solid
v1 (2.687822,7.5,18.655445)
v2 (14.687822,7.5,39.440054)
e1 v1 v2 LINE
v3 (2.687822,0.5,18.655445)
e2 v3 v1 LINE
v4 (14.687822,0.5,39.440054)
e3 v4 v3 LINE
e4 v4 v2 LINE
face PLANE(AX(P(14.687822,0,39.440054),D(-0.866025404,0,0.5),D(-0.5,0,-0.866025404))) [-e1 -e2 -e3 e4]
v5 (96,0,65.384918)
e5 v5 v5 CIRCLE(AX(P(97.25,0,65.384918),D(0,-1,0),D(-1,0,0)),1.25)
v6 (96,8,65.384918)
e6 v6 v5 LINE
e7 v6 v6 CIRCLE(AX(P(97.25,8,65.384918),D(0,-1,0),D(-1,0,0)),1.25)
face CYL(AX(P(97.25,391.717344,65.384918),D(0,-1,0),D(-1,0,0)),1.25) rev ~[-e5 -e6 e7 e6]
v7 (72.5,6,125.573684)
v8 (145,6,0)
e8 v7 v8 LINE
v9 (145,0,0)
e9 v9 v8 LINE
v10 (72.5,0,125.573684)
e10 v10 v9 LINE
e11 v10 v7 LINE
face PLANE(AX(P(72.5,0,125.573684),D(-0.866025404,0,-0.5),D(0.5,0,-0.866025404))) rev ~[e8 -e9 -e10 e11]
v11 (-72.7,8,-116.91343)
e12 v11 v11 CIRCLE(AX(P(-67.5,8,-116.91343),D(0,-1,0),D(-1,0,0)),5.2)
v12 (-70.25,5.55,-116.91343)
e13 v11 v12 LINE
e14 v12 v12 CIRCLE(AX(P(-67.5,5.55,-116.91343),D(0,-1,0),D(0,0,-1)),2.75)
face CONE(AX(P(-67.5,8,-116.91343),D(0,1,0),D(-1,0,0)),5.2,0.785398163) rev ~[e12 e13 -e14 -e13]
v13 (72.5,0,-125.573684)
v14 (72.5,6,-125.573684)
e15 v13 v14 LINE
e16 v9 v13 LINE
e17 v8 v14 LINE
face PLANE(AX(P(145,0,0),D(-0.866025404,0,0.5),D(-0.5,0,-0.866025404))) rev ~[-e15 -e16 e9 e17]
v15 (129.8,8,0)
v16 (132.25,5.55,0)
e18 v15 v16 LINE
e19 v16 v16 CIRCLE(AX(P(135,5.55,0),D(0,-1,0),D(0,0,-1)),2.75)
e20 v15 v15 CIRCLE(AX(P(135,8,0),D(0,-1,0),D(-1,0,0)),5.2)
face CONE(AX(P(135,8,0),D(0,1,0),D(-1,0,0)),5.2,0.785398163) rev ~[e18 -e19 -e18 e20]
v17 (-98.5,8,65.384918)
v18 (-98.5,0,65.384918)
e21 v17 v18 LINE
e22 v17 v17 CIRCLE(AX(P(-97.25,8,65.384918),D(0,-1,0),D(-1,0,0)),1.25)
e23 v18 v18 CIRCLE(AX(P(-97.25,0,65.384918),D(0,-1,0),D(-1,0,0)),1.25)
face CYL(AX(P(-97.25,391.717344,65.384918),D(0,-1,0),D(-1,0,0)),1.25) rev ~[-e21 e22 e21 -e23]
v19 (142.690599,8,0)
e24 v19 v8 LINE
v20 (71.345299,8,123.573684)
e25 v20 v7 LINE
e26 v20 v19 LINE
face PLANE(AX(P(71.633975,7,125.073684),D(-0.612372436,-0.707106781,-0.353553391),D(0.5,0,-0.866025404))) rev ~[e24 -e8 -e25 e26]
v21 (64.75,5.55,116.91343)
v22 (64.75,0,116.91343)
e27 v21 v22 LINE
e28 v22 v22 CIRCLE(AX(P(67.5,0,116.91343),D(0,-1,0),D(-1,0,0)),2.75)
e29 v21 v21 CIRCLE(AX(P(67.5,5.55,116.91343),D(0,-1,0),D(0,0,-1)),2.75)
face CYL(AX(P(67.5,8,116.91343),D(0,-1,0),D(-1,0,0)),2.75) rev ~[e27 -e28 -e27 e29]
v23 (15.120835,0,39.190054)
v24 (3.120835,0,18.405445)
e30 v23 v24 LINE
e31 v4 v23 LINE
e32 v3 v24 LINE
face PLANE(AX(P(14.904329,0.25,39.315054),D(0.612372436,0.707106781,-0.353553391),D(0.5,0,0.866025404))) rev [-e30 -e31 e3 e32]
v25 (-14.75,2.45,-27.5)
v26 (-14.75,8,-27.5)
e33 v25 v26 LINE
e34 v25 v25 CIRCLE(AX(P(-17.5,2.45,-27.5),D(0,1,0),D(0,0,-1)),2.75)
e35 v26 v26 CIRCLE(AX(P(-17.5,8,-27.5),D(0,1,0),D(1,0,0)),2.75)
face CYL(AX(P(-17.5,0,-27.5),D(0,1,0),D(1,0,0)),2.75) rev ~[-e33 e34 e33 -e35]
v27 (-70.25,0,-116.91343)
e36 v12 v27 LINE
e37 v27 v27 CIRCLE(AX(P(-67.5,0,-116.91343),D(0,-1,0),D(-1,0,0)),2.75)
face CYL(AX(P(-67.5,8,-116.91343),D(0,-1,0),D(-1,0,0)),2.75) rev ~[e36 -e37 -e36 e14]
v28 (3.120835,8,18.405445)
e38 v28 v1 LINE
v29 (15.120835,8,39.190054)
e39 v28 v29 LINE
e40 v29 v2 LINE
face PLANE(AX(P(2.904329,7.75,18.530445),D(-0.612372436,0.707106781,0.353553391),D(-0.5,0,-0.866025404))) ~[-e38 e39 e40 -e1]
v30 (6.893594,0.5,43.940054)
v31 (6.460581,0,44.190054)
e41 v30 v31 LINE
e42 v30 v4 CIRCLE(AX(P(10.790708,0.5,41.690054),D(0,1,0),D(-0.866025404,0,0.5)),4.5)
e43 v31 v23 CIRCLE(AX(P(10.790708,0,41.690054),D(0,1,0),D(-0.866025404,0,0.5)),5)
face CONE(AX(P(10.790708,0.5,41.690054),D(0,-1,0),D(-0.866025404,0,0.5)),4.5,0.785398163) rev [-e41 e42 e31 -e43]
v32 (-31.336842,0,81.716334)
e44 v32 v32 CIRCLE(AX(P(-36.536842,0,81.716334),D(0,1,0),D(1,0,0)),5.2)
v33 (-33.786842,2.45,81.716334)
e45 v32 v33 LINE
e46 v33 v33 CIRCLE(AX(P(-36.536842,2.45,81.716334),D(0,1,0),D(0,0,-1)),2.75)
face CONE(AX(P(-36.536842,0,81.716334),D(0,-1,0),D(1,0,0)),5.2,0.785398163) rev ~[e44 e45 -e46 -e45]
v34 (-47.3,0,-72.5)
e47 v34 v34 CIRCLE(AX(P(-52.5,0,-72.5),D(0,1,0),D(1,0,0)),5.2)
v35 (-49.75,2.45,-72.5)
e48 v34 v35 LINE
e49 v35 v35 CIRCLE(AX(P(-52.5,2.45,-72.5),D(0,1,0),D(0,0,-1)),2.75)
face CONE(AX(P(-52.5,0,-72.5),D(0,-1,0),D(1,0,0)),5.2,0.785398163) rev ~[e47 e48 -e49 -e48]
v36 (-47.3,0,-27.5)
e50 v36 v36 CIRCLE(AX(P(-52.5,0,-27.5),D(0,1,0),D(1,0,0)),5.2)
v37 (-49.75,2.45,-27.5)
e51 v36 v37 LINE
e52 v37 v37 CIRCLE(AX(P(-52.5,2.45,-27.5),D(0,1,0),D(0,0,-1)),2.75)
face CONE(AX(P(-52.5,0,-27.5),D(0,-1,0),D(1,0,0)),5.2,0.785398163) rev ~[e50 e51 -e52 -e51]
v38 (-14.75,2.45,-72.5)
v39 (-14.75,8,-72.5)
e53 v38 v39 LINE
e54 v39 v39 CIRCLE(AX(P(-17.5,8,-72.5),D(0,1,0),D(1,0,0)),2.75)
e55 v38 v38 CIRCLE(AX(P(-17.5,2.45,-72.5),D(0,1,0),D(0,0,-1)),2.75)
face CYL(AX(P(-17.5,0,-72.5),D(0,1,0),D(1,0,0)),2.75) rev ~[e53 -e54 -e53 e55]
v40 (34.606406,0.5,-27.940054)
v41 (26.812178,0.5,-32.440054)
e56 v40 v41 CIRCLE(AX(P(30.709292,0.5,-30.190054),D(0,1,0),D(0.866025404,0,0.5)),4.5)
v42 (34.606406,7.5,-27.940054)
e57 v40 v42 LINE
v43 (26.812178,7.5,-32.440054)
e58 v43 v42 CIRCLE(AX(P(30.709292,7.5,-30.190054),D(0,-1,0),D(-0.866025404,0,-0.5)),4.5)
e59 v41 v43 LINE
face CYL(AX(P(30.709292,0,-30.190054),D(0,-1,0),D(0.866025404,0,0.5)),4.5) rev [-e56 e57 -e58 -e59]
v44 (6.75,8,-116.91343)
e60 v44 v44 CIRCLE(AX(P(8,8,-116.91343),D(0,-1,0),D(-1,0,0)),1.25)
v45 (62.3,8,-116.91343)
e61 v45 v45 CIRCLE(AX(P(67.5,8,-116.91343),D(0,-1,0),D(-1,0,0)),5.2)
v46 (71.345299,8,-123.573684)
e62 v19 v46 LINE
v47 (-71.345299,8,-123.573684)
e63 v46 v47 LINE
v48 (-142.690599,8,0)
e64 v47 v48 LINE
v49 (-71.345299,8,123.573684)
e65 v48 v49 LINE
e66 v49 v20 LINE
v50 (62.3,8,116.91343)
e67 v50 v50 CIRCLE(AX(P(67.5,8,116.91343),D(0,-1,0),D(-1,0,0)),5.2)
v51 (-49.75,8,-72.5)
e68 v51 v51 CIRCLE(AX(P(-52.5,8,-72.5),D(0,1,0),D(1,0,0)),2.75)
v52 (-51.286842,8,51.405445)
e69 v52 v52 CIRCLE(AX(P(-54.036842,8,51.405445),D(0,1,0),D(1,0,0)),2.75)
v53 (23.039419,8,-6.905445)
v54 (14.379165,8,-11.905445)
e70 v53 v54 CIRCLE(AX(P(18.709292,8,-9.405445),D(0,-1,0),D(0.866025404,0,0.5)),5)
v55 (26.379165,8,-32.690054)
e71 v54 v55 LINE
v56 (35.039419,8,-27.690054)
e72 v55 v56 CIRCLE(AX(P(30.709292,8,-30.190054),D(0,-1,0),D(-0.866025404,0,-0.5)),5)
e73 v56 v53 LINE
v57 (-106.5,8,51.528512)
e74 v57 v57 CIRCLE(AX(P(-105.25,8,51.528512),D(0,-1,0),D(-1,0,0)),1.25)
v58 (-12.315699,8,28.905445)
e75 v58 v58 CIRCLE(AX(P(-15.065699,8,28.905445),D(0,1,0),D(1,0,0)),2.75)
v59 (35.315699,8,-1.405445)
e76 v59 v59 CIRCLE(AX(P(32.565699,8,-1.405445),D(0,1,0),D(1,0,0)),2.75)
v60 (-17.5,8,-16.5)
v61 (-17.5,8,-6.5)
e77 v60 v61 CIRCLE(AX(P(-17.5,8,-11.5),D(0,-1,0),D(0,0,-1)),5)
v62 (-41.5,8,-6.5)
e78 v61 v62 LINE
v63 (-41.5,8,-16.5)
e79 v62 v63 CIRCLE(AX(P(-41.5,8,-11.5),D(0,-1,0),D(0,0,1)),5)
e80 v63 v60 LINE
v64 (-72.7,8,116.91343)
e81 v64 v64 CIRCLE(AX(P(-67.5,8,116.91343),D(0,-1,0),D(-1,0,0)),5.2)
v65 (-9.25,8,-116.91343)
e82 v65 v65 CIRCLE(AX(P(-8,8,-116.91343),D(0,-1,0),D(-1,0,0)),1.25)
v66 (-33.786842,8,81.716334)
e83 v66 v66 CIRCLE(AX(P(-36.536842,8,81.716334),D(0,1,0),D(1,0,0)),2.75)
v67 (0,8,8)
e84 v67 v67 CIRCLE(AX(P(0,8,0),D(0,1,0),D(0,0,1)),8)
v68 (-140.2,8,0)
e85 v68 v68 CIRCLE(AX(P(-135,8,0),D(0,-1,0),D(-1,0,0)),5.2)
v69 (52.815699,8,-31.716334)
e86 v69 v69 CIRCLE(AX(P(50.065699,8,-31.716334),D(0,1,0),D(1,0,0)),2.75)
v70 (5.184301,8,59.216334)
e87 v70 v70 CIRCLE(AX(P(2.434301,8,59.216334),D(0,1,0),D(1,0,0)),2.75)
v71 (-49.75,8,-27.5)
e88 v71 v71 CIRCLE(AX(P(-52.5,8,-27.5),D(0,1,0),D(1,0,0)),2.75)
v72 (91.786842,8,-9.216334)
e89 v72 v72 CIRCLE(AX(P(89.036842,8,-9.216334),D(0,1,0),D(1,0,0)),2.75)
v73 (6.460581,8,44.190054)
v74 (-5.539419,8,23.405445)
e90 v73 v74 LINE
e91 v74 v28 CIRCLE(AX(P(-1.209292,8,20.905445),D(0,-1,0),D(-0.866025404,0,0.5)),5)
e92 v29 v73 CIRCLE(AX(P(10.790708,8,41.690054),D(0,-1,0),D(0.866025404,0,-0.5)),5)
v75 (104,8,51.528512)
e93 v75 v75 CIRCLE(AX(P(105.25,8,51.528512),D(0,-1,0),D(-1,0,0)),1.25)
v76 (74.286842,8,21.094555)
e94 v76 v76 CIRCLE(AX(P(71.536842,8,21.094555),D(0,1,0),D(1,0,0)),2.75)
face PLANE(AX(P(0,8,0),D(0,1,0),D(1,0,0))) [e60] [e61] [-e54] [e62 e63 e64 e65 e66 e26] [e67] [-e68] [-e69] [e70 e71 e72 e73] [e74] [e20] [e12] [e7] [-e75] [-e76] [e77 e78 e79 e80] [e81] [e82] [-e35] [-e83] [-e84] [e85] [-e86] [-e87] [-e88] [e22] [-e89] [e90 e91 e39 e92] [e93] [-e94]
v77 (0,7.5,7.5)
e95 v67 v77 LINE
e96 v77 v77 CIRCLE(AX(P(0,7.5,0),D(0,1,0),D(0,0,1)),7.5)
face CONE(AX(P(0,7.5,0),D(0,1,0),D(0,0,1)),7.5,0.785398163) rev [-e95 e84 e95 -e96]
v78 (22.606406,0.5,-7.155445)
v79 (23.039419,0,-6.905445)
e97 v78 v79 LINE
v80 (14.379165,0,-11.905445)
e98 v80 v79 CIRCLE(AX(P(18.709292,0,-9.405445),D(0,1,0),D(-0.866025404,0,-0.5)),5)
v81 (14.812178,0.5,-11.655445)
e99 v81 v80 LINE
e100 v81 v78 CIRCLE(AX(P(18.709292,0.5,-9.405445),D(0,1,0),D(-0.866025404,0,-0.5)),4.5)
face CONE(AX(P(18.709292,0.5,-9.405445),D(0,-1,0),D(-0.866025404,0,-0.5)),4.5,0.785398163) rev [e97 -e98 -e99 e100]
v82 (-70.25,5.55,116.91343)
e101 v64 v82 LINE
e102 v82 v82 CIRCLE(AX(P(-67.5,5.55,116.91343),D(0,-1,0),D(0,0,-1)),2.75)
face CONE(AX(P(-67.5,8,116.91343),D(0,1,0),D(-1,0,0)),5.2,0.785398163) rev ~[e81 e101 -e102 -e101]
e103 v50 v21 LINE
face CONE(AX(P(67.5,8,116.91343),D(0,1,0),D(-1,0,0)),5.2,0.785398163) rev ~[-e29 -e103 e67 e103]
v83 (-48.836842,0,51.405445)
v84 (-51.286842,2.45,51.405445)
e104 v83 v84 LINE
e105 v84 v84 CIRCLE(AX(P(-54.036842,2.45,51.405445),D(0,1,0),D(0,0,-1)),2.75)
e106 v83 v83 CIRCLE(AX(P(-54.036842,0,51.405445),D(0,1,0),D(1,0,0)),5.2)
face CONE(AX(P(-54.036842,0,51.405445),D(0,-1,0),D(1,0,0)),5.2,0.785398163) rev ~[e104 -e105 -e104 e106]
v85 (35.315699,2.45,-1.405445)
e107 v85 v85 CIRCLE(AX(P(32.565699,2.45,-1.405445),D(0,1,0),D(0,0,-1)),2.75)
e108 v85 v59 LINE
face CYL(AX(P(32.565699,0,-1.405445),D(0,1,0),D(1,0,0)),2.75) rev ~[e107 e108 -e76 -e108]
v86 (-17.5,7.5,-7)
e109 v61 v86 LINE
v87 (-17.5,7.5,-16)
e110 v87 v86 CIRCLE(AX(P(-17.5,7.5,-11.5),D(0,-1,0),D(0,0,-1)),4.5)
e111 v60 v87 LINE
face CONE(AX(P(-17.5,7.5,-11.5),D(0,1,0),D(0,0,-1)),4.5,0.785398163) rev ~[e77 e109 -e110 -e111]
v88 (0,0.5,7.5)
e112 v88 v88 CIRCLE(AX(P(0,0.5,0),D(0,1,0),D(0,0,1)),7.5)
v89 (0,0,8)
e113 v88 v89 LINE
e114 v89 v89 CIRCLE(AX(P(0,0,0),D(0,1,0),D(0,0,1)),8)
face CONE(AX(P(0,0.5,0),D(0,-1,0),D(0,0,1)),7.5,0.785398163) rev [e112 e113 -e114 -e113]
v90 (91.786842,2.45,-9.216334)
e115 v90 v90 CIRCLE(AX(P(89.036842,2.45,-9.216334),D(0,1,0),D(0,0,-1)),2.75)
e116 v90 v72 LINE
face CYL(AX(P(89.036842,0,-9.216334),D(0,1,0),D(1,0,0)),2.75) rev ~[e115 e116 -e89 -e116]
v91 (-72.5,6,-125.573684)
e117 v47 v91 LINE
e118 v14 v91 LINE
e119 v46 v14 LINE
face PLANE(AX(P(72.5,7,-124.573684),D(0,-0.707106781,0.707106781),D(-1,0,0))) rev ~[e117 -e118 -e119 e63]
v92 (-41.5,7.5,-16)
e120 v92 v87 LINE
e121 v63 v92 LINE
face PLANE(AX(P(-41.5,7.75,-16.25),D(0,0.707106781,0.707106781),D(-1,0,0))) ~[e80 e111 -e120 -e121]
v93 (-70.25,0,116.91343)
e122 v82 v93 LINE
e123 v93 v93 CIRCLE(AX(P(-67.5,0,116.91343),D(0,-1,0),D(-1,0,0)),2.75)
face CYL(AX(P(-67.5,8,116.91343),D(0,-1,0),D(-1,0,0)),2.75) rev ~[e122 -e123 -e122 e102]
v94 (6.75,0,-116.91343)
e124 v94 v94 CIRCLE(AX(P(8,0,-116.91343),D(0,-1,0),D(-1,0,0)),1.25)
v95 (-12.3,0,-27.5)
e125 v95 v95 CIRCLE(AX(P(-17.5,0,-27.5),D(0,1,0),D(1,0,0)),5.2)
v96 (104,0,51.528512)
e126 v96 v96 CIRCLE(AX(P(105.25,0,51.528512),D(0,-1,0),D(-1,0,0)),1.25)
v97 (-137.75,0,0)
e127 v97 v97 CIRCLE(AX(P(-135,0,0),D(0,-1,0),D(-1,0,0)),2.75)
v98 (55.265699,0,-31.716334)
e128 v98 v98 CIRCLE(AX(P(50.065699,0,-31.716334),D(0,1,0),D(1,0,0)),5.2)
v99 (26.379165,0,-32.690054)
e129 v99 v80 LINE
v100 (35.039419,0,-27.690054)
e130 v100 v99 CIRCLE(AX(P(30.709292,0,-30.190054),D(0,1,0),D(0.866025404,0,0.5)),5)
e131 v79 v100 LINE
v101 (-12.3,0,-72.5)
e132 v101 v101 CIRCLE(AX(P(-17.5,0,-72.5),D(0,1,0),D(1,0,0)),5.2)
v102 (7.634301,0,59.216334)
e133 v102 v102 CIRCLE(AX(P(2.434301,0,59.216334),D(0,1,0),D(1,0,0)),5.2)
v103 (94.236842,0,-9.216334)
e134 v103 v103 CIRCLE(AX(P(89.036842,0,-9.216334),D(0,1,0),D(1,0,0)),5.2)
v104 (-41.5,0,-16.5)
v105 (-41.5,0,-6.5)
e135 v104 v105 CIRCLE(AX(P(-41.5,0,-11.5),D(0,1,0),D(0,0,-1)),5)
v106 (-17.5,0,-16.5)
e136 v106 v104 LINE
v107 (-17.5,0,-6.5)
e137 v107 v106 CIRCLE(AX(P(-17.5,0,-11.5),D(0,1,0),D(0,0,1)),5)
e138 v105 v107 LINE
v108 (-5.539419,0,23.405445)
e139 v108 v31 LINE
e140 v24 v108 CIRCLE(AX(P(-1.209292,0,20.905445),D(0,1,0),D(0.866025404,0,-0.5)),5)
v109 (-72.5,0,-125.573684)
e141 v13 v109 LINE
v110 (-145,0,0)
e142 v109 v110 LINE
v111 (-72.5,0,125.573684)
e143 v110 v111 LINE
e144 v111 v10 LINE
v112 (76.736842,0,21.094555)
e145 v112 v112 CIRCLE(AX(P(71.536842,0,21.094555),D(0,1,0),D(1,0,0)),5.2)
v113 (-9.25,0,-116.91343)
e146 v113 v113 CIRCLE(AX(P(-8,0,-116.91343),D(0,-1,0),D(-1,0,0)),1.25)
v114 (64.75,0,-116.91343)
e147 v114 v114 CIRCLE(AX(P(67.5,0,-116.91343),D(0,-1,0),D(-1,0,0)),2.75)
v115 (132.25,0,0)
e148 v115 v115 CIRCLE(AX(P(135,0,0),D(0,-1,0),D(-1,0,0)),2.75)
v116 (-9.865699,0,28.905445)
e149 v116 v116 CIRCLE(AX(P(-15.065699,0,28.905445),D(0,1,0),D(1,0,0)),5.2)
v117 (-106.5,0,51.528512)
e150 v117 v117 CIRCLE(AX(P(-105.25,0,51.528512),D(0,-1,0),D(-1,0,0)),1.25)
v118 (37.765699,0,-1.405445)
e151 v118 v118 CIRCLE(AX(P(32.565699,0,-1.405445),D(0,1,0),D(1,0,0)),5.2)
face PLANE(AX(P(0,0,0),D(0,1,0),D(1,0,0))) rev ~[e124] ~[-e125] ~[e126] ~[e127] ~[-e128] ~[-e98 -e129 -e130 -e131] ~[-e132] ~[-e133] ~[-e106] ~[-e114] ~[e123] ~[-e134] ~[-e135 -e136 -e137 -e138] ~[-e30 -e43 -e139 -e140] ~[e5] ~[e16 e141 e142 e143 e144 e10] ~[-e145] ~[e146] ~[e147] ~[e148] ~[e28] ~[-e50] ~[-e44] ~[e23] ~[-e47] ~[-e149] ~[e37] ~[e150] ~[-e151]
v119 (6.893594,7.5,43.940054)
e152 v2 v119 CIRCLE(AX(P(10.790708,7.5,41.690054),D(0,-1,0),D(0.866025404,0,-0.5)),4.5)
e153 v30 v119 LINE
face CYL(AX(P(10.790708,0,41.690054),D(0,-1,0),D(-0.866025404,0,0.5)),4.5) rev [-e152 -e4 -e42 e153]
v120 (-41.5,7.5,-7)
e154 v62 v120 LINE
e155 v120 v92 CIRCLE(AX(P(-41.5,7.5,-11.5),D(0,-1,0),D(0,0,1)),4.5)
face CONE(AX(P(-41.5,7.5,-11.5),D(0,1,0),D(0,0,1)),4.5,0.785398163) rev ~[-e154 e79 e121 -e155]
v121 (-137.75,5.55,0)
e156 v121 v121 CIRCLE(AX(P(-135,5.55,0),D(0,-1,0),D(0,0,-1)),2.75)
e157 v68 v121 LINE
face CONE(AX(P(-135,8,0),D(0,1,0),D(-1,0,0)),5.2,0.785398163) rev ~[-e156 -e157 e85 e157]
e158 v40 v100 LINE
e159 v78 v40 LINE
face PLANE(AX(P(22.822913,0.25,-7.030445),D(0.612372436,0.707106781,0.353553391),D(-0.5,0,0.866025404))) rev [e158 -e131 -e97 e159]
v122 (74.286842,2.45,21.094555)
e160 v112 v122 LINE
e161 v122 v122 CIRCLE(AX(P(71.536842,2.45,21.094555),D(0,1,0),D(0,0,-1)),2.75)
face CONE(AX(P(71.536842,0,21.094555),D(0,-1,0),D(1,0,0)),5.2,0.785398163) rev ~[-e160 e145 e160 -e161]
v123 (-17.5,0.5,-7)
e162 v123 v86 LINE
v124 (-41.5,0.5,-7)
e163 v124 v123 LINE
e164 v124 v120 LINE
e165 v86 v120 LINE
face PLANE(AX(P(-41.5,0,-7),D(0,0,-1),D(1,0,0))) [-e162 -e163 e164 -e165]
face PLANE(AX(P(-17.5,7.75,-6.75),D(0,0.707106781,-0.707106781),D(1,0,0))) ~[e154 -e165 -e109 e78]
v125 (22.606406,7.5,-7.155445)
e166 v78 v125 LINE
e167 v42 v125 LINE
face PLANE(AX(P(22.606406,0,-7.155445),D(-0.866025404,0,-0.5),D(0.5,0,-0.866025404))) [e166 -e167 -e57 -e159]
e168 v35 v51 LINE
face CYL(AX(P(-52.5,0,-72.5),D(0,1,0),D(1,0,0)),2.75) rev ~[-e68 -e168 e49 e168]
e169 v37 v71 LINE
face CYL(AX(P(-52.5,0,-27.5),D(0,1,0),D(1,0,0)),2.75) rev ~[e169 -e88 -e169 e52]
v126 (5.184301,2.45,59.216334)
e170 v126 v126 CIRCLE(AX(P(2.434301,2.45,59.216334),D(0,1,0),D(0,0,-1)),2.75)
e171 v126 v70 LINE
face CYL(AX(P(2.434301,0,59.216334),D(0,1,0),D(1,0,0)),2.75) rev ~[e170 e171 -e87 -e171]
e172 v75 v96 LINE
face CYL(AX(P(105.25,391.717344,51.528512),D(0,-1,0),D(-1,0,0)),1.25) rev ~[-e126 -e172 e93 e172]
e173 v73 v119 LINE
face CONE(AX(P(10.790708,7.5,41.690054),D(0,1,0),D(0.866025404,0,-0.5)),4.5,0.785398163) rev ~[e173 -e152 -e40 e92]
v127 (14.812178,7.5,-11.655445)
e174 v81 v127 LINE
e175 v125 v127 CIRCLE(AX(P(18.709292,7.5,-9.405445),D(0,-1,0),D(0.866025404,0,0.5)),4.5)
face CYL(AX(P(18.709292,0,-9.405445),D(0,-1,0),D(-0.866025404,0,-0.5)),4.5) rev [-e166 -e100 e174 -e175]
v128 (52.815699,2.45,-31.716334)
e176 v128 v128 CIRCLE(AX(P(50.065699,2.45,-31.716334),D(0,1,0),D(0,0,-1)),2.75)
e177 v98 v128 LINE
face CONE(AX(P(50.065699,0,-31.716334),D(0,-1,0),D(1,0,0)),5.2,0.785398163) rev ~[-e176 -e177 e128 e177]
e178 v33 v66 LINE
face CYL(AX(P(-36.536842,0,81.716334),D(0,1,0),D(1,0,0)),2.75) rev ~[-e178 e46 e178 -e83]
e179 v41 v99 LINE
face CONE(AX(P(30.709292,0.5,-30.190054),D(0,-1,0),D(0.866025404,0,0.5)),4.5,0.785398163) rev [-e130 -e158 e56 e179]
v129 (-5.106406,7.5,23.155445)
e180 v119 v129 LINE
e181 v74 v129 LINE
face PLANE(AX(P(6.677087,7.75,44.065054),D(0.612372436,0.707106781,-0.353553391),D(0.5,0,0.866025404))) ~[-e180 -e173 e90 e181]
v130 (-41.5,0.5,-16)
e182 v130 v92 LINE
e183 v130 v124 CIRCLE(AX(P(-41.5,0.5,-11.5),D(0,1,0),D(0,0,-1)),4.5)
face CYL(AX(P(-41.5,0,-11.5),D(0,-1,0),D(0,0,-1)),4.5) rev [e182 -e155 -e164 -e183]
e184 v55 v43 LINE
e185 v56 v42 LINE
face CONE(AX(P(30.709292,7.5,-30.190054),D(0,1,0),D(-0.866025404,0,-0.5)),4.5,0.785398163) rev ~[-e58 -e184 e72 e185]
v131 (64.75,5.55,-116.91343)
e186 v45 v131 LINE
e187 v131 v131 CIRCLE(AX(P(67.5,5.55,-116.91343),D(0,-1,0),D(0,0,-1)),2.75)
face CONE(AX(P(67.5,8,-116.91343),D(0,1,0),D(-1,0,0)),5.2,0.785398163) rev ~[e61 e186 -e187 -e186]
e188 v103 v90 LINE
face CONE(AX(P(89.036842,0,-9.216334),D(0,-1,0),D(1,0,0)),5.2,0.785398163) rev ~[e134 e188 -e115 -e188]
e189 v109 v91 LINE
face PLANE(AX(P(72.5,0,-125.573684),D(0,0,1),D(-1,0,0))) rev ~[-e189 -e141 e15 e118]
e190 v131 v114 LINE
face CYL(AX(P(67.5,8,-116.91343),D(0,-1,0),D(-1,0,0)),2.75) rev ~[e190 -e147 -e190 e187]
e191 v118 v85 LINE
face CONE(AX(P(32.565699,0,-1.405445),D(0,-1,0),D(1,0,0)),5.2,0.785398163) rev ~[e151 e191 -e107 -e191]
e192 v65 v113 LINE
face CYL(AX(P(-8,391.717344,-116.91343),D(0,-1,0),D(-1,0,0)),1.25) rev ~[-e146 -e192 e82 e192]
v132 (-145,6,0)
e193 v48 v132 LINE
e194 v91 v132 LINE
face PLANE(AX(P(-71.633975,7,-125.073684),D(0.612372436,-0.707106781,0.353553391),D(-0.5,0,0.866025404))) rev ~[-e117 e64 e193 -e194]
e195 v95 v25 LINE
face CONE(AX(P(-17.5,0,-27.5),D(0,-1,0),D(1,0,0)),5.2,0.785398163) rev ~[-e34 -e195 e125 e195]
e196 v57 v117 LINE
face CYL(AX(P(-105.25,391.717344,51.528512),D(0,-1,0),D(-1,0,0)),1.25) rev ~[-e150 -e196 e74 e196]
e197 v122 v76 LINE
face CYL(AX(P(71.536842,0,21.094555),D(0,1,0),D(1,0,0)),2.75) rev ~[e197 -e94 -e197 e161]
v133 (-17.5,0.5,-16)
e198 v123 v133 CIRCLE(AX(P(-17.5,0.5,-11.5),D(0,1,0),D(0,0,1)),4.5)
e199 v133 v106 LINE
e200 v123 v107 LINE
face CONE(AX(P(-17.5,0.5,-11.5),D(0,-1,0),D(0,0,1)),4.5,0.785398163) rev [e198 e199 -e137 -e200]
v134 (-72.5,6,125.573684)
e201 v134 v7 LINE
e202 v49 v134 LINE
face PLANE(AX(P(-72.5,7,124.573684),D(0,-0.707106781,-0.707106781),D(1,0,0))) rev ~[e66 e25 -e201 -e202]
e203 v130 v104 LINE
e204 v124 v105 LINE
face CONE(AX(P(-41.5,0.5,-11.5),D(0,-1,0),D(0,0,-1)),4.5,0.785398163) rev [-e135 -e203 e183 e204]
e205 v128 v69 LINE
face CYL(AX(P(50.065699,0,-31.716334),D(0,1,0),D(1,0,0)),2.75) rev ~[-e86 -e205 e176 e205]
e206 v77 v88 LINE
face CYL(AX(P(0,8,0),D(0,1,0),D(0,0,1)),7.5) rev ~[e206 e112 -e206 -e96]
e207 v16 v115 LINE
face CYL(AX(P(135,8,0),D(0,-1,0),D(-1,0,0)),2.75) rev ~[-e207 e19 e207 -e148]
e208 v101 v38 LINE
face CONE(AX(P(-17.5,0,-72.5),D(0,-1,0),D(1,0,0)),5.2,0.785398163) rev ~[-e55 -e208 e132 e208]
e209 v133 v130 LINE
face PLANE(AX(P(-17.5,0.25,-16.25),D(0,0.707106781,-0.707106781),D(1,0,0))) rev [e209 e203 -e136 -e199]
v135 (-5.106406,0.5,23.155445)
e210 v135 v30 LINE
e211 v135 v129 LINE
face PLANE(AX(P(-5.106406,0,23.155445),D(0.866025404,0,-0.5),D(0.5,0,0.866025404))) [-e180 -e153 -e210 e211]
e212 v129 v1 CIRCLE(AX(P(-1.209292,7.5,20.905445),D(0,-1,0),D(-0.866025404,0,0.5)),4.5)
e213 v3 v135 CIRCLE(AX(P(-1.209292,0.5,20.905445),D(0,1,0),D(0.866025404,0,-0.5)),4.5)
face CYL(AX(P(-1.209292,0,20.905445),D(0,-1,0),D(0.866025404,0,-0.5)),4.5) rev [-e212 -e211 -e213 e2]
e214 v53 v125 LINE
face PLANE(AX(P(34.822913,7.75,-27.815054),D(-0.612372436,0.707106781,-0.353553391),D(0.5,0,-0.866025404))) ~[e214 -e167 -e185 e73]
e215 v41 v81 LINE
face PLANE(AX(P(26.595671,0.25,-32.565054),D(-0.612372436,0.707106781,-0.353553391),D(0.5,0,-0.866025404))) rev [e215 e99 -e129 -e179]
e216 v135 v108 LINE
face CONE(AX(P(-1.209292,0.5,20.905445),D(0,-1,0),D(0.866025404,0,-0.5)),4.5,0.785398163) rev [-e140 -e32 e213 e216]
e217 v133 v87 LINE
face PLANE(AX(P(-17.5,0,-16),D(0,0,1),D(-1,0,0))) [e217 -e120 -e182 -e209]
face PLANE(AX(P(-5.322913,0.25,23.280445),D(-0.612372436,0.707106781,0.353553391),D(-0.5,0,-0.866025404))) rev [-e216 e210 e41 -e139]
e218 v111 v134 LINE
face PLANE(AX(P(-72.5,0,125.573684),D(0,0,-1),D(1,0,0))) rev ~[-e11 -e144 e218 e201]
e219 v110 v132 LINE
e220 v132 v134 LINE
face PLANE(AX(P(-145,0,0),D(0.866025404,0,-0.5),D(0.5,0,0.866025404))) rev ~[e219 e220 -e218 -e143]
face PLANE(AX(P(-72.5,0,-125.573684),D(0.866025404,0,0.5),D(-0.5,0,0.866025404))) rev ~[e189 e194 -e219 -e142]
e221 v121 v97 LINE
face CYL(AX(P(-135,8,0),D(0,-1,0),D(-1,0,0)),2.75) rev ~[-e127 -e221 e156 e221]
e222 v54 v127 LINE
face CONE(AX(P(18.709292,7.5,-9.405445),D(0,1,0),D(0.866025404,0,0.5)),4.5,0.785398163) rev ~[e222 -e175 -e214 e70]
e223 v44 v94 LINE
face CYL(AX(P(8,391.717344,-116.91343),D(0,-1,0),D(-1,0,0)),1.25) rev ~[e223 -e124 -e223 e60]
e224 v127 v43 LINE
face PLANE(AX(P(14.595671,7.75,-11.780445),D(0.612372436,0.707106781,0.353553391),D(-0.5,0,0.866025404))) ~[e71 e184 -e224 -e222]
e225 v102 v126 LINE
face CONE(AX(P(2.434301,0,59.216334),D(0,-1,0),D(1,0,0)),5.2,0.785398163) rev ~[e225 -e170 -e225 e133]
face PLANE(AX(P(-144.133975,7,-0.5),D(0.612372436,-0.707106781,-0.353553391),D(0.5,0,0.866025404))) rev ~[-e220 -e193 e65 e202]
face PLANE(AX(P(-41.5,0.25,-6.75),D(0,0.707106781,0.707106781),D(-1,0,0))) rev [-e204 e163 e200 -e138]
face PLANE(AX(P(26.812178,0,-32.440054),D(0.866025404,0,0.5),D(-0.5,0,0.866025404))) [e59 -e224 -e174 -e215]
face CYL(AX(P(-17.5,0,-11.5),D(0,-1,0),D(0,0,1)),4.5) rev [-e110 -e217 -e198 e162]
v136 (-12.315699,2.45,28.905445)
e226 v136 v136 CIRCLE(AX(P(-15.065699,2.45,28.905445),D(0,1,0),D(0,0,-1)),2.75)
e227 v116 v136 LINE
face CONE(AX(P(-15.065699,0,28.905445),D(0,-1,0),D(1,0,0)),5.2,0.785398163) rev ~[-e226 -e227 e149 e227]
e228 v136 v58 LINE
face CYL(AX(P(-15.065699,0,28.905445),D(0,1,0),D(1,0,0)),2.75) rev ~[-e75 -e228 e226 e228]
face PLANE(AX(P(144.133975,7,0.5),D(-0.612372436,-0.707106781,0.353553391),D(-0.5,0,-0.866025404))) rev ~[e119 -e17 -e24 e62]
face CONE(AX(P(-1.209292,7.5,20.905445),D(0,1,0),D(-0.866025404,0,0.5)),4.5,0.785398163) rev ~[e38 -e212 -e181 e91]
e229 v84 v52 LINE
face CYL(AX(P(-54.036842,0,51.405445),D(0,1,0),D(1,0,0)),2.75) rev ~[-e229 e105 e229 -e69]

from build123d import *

# Parameters (mm, degrees)
BOSS_EXTRUDE1_DEPTH                             = 8
SKETCH5_R                                       = 7.5
CUT_EXTRUDE1_DEPTH                              = 192.983723268
CSK_FOR_M5_FLAT_HEAD_MACHINE_SCREW1_D           = 5.5
CSK_FOR_M5_FLAT_HEAD_MACHINE_SCREW1_CSINK_D     = 10.4
CSK_FOR_M5_FLAT_HEAD_MACHINE_SCREW1_CSINK_ANGLE = 90
CUT_EXTRUDE3_DEPTH                              = 192.983723268
CSK_FOR_M5_FLAT_HEAD_MACHINE_SCREW2_D           = 5.5
CSK_FOR_M5_FLAT_HEAD_MACHINE_SCREW2_DEPTH       = 10
CSK_FOR_M5_FLAT_HEAD_MACHINE_SCREW2_CSINK_D     = 10.4
CSK_FOR_M5_FLAT_HEAD_MACHINE_SCREW2_CSINK_ANGLE = 90
CSK_FOR_M5_FLAT_HEAD_MACHINE_SCREW2_TIP         = 1.652366702
CHAMFER1_SIZE                                   = 0.5
CHAMFER3_SIZE                                   = 0.5
CHAMFER4_SIZE                                   = 2
M3X0_5_TAPPED_HOLE1_D                           = 2.5


with BuildPart() as part:
    # Sketch1 → Boss-Extrude1 (new body)
    with BuildSketch(Plane(origin=(0, 0, 0), x_dir=(1, 0, 0), z_dir=(0, 1, 0))):
        Polygon((72.5, 125.573683549), (-72.5, 125.573683549), (-145, 0), (-72.5, -125.573683549), (72.5, -125.573683549), (145, 0), align=None)
    extrude(amount=BOSS_EXTRUDE1_DEPTH)

    # Sketch5 → Cut-Extrude1 (cut, through all)
    with BuildSketch(Plane(origin=(0, 8, 0), x_dir=(1, 0, 0), z_dir=(0, 1, 0))):
        with Locations(Location((0, 0, 0), (0, 0, 270))):
            Circle(SKETCH5_R)
    extrude(amount=-CUT_EXTRUDE1_DEPTH, mode=Mode.SUBTRACT)

    # CSK for M5 Flat Head Machine Screw1 (through all)
    with Locations(Plane(origin=(0, 0, 0), x_dir=(-1, 0, 0), z_dir=(0, -1, 0))):
        with Locations((52.5, 27.5), (17.5, 27.5), (17.5, 72.5), (52.5, 72.5), (-32.565698604, 1.405444566), (-71.536841774, -21.094555434), (-89.036841774, 9.216333699), (-50.065698604, 31.716333699), (15.065698604, -28.905444566), (-2.434301396, -59.216333699), (36.536841774, -81.716333699), (54.036841774, -51.405444566)):
            CounterSinkHole(CSK_FOR_M5_FLAT_HEAD_MACHINE_SCREW1_D / 2, CSK_FOR_M5_FLAT_HEAD_MACHINE_SCREW1_CSINK_D / 2, counter_sink_angle=CSK_FOR_M5_FLAT_HEAD_MACHINE_SCREW1_CSINK_ANGLE)

    # Sketch9 → Cut-Extrude3 (cut, through all)
    with BuildSketch(Plane.XZ):
        with BuildLine():
            Line((26.812177826, -32.440054257), (14.812177826, -11.655444566))
            ThreePointArc((14.812177826, -11.655444566), (16.459292144, -5.508330249), (22.606406461, -7.155444566))
            Line((22.606406461, -7.155444566), (34.606406461, -27.940054257))
            ThreePointArc((34.606406461, -27.940054257), (32.959292144, -34.087168574), (26.812177826, -32.440054257))
        make_face()
        with BuildLine():
            Line((-41.5, -7), (-17.5, -7))
            ThreePointArc((-17.5, -7), (-13, -11.5), (-17.5, -16))
            Line((-17.5, -16), (-41.5, -16))
            ThreePointArc((-41.5, -16), (-46, -11.5), (-41.5, -7))
        make_face()
        with BuildLine():
            Line((14.687822174, 39.440054257), (2.687822174, 18.655444566))
            ThreePointArc((2.687822174, 18.655444566), (-3.459292144, 17.008330249), (-5.106406461, 23.155444566))
            Line((-5.106406461, 23.155444566), (6.893593539, 43.940054257))
            ThreePointArc((6.893593539, 43.940054257), (13.040707856, 45.587168574), (14.687822174, 39.440054257))
        make_face()
    extrude(amount=-CUT_EXTRUDE3_DEPTH, mode=Mode.SUBTRACT)

    # CSK for M5 Flat Head Machine Screw2
    with Locations(Plane(origin=(0, 8, 0), x_dir=(1, 0, 0), z_dir=(0, 1, 0))):
        with Locations((-135, 0), (-67.5, -116.913429511), (67.5, -116.913429511), (135, 0), (67.5, 116.913429511), (-67.5, 116.913429511)):
            CounterSinkHole(CSK_FOR_M5_FLAT_HEAD_MACHINE_SCREW2_D / 2, CSK_FOR_M5_FLAT_HEAD_MACHINE_SCREW2_CSINK_D / 2, depth=CSK_FOR_M5_FLAT_HEAD_MACHINE_SCREW2_DEPTH, counter_sink_angle=CSK_FOR_M5_FLAT_HEAD_MACHINE_SCREW2_CSINK_ANGLE)
            with Locations((0, 0, -(CSK_FOR_M5_FLAT_HEAD_MACHINE_SCREW2_DEPTH + CSK_FOR_M5_FLAT_HEAD_MACHINE_SCREW2_TIP / 2))):  # 118° drill point
                Cone(0, CSK_FOR_M5_FLAT_HEAD_MACHINE_SCREW2_D / 2, CSK_FOR_M5_FLAT_HEAD_MACHINE_SCREW2_TIP, mode=Mode.SUBTRACT)

    # Chamfer1
    chamfer1_edges = [part.edges().sort_by_distance(p)[0] for p in [
        (32.959292144, 8, -34.087168574),
        (20.812177826, 8, -22.047749412),
        (16.459292144, 8, -5.508330249),
        (28.606406461, 8, -17.547749412),
        (32.959292144, 0, -34.087168574),
        (28.606406461, 0, -17.547749412),
        (16.459292144, 0, -5.508330249),
        (20.812177826, 0, -22.047749412),
        (-46, 8, -11.5),
        (-29.5, 8, -7),
        (-13, 8, -11.5),
        (-29.5, 8, -16),
        (-46, 0, -11.5),
        (-29.5, 0, -16),
        (-13, 0, -11.5),
        (-29.5, 0, -7),
        (13.040707856, 8, 45.587168574),
        (8.687822174, 8, 29.047749412),
        (-3.459292144, 8, 17.008330249),
        (0.893593539, 8, 33.547749412),
        (13.040707856, 0, 45.587168574),
        (0.893593539, 0, 33.547749412),
        (-3.459292144, 0, 17.008330249),
        (8.687822174, 0, 29.047749412),
    ]]
    chamfer(chamfer1_edges, length=CHAMFER1_SIZE)

    # Chamfer3
    chamfer3_edges = [part.edges().sort_by_distance(p)[0] for p in [
        (0, 0, -7.5),
        (0, 8, -7.5),
    ]]
    chamfer(chamfer3_edges, length=CHAMFER3_SIZE)

    # Chamfer4
    chamfer4_edges = [part.edges().sort_by_distance(p)[0] for p in [
        (-108.75, 8, -62.786841774),
        (-108.75, 8, 62.786841774),
        (0, 8, 125.573683549),
        (108.75, 8, 62.786841774),
        (108.75, 8, -62.786841774),
        (0, 8, -125.573683549),
    ]]
    chamfer(chamfer4_edges, length=CHAMFER4_SIZE)

    # M3x0.5 Tapped Hole1 (through all)
    with Locations(Plane(origin=(0, 8, 0), x_dir=(1, 0, 0), z_dir=(0, 1, 0))):
        with Locations((97.25, -65.384917986), (105.25, -51.528511525), (8, 116.913429511), (-8, 116.913429511), (-105.25, -51.528511525), (-97.25, -65.384917986)):
            Hole(M3X0_5_TAPPED_HOLE1_D / 2)


solid = part.part
